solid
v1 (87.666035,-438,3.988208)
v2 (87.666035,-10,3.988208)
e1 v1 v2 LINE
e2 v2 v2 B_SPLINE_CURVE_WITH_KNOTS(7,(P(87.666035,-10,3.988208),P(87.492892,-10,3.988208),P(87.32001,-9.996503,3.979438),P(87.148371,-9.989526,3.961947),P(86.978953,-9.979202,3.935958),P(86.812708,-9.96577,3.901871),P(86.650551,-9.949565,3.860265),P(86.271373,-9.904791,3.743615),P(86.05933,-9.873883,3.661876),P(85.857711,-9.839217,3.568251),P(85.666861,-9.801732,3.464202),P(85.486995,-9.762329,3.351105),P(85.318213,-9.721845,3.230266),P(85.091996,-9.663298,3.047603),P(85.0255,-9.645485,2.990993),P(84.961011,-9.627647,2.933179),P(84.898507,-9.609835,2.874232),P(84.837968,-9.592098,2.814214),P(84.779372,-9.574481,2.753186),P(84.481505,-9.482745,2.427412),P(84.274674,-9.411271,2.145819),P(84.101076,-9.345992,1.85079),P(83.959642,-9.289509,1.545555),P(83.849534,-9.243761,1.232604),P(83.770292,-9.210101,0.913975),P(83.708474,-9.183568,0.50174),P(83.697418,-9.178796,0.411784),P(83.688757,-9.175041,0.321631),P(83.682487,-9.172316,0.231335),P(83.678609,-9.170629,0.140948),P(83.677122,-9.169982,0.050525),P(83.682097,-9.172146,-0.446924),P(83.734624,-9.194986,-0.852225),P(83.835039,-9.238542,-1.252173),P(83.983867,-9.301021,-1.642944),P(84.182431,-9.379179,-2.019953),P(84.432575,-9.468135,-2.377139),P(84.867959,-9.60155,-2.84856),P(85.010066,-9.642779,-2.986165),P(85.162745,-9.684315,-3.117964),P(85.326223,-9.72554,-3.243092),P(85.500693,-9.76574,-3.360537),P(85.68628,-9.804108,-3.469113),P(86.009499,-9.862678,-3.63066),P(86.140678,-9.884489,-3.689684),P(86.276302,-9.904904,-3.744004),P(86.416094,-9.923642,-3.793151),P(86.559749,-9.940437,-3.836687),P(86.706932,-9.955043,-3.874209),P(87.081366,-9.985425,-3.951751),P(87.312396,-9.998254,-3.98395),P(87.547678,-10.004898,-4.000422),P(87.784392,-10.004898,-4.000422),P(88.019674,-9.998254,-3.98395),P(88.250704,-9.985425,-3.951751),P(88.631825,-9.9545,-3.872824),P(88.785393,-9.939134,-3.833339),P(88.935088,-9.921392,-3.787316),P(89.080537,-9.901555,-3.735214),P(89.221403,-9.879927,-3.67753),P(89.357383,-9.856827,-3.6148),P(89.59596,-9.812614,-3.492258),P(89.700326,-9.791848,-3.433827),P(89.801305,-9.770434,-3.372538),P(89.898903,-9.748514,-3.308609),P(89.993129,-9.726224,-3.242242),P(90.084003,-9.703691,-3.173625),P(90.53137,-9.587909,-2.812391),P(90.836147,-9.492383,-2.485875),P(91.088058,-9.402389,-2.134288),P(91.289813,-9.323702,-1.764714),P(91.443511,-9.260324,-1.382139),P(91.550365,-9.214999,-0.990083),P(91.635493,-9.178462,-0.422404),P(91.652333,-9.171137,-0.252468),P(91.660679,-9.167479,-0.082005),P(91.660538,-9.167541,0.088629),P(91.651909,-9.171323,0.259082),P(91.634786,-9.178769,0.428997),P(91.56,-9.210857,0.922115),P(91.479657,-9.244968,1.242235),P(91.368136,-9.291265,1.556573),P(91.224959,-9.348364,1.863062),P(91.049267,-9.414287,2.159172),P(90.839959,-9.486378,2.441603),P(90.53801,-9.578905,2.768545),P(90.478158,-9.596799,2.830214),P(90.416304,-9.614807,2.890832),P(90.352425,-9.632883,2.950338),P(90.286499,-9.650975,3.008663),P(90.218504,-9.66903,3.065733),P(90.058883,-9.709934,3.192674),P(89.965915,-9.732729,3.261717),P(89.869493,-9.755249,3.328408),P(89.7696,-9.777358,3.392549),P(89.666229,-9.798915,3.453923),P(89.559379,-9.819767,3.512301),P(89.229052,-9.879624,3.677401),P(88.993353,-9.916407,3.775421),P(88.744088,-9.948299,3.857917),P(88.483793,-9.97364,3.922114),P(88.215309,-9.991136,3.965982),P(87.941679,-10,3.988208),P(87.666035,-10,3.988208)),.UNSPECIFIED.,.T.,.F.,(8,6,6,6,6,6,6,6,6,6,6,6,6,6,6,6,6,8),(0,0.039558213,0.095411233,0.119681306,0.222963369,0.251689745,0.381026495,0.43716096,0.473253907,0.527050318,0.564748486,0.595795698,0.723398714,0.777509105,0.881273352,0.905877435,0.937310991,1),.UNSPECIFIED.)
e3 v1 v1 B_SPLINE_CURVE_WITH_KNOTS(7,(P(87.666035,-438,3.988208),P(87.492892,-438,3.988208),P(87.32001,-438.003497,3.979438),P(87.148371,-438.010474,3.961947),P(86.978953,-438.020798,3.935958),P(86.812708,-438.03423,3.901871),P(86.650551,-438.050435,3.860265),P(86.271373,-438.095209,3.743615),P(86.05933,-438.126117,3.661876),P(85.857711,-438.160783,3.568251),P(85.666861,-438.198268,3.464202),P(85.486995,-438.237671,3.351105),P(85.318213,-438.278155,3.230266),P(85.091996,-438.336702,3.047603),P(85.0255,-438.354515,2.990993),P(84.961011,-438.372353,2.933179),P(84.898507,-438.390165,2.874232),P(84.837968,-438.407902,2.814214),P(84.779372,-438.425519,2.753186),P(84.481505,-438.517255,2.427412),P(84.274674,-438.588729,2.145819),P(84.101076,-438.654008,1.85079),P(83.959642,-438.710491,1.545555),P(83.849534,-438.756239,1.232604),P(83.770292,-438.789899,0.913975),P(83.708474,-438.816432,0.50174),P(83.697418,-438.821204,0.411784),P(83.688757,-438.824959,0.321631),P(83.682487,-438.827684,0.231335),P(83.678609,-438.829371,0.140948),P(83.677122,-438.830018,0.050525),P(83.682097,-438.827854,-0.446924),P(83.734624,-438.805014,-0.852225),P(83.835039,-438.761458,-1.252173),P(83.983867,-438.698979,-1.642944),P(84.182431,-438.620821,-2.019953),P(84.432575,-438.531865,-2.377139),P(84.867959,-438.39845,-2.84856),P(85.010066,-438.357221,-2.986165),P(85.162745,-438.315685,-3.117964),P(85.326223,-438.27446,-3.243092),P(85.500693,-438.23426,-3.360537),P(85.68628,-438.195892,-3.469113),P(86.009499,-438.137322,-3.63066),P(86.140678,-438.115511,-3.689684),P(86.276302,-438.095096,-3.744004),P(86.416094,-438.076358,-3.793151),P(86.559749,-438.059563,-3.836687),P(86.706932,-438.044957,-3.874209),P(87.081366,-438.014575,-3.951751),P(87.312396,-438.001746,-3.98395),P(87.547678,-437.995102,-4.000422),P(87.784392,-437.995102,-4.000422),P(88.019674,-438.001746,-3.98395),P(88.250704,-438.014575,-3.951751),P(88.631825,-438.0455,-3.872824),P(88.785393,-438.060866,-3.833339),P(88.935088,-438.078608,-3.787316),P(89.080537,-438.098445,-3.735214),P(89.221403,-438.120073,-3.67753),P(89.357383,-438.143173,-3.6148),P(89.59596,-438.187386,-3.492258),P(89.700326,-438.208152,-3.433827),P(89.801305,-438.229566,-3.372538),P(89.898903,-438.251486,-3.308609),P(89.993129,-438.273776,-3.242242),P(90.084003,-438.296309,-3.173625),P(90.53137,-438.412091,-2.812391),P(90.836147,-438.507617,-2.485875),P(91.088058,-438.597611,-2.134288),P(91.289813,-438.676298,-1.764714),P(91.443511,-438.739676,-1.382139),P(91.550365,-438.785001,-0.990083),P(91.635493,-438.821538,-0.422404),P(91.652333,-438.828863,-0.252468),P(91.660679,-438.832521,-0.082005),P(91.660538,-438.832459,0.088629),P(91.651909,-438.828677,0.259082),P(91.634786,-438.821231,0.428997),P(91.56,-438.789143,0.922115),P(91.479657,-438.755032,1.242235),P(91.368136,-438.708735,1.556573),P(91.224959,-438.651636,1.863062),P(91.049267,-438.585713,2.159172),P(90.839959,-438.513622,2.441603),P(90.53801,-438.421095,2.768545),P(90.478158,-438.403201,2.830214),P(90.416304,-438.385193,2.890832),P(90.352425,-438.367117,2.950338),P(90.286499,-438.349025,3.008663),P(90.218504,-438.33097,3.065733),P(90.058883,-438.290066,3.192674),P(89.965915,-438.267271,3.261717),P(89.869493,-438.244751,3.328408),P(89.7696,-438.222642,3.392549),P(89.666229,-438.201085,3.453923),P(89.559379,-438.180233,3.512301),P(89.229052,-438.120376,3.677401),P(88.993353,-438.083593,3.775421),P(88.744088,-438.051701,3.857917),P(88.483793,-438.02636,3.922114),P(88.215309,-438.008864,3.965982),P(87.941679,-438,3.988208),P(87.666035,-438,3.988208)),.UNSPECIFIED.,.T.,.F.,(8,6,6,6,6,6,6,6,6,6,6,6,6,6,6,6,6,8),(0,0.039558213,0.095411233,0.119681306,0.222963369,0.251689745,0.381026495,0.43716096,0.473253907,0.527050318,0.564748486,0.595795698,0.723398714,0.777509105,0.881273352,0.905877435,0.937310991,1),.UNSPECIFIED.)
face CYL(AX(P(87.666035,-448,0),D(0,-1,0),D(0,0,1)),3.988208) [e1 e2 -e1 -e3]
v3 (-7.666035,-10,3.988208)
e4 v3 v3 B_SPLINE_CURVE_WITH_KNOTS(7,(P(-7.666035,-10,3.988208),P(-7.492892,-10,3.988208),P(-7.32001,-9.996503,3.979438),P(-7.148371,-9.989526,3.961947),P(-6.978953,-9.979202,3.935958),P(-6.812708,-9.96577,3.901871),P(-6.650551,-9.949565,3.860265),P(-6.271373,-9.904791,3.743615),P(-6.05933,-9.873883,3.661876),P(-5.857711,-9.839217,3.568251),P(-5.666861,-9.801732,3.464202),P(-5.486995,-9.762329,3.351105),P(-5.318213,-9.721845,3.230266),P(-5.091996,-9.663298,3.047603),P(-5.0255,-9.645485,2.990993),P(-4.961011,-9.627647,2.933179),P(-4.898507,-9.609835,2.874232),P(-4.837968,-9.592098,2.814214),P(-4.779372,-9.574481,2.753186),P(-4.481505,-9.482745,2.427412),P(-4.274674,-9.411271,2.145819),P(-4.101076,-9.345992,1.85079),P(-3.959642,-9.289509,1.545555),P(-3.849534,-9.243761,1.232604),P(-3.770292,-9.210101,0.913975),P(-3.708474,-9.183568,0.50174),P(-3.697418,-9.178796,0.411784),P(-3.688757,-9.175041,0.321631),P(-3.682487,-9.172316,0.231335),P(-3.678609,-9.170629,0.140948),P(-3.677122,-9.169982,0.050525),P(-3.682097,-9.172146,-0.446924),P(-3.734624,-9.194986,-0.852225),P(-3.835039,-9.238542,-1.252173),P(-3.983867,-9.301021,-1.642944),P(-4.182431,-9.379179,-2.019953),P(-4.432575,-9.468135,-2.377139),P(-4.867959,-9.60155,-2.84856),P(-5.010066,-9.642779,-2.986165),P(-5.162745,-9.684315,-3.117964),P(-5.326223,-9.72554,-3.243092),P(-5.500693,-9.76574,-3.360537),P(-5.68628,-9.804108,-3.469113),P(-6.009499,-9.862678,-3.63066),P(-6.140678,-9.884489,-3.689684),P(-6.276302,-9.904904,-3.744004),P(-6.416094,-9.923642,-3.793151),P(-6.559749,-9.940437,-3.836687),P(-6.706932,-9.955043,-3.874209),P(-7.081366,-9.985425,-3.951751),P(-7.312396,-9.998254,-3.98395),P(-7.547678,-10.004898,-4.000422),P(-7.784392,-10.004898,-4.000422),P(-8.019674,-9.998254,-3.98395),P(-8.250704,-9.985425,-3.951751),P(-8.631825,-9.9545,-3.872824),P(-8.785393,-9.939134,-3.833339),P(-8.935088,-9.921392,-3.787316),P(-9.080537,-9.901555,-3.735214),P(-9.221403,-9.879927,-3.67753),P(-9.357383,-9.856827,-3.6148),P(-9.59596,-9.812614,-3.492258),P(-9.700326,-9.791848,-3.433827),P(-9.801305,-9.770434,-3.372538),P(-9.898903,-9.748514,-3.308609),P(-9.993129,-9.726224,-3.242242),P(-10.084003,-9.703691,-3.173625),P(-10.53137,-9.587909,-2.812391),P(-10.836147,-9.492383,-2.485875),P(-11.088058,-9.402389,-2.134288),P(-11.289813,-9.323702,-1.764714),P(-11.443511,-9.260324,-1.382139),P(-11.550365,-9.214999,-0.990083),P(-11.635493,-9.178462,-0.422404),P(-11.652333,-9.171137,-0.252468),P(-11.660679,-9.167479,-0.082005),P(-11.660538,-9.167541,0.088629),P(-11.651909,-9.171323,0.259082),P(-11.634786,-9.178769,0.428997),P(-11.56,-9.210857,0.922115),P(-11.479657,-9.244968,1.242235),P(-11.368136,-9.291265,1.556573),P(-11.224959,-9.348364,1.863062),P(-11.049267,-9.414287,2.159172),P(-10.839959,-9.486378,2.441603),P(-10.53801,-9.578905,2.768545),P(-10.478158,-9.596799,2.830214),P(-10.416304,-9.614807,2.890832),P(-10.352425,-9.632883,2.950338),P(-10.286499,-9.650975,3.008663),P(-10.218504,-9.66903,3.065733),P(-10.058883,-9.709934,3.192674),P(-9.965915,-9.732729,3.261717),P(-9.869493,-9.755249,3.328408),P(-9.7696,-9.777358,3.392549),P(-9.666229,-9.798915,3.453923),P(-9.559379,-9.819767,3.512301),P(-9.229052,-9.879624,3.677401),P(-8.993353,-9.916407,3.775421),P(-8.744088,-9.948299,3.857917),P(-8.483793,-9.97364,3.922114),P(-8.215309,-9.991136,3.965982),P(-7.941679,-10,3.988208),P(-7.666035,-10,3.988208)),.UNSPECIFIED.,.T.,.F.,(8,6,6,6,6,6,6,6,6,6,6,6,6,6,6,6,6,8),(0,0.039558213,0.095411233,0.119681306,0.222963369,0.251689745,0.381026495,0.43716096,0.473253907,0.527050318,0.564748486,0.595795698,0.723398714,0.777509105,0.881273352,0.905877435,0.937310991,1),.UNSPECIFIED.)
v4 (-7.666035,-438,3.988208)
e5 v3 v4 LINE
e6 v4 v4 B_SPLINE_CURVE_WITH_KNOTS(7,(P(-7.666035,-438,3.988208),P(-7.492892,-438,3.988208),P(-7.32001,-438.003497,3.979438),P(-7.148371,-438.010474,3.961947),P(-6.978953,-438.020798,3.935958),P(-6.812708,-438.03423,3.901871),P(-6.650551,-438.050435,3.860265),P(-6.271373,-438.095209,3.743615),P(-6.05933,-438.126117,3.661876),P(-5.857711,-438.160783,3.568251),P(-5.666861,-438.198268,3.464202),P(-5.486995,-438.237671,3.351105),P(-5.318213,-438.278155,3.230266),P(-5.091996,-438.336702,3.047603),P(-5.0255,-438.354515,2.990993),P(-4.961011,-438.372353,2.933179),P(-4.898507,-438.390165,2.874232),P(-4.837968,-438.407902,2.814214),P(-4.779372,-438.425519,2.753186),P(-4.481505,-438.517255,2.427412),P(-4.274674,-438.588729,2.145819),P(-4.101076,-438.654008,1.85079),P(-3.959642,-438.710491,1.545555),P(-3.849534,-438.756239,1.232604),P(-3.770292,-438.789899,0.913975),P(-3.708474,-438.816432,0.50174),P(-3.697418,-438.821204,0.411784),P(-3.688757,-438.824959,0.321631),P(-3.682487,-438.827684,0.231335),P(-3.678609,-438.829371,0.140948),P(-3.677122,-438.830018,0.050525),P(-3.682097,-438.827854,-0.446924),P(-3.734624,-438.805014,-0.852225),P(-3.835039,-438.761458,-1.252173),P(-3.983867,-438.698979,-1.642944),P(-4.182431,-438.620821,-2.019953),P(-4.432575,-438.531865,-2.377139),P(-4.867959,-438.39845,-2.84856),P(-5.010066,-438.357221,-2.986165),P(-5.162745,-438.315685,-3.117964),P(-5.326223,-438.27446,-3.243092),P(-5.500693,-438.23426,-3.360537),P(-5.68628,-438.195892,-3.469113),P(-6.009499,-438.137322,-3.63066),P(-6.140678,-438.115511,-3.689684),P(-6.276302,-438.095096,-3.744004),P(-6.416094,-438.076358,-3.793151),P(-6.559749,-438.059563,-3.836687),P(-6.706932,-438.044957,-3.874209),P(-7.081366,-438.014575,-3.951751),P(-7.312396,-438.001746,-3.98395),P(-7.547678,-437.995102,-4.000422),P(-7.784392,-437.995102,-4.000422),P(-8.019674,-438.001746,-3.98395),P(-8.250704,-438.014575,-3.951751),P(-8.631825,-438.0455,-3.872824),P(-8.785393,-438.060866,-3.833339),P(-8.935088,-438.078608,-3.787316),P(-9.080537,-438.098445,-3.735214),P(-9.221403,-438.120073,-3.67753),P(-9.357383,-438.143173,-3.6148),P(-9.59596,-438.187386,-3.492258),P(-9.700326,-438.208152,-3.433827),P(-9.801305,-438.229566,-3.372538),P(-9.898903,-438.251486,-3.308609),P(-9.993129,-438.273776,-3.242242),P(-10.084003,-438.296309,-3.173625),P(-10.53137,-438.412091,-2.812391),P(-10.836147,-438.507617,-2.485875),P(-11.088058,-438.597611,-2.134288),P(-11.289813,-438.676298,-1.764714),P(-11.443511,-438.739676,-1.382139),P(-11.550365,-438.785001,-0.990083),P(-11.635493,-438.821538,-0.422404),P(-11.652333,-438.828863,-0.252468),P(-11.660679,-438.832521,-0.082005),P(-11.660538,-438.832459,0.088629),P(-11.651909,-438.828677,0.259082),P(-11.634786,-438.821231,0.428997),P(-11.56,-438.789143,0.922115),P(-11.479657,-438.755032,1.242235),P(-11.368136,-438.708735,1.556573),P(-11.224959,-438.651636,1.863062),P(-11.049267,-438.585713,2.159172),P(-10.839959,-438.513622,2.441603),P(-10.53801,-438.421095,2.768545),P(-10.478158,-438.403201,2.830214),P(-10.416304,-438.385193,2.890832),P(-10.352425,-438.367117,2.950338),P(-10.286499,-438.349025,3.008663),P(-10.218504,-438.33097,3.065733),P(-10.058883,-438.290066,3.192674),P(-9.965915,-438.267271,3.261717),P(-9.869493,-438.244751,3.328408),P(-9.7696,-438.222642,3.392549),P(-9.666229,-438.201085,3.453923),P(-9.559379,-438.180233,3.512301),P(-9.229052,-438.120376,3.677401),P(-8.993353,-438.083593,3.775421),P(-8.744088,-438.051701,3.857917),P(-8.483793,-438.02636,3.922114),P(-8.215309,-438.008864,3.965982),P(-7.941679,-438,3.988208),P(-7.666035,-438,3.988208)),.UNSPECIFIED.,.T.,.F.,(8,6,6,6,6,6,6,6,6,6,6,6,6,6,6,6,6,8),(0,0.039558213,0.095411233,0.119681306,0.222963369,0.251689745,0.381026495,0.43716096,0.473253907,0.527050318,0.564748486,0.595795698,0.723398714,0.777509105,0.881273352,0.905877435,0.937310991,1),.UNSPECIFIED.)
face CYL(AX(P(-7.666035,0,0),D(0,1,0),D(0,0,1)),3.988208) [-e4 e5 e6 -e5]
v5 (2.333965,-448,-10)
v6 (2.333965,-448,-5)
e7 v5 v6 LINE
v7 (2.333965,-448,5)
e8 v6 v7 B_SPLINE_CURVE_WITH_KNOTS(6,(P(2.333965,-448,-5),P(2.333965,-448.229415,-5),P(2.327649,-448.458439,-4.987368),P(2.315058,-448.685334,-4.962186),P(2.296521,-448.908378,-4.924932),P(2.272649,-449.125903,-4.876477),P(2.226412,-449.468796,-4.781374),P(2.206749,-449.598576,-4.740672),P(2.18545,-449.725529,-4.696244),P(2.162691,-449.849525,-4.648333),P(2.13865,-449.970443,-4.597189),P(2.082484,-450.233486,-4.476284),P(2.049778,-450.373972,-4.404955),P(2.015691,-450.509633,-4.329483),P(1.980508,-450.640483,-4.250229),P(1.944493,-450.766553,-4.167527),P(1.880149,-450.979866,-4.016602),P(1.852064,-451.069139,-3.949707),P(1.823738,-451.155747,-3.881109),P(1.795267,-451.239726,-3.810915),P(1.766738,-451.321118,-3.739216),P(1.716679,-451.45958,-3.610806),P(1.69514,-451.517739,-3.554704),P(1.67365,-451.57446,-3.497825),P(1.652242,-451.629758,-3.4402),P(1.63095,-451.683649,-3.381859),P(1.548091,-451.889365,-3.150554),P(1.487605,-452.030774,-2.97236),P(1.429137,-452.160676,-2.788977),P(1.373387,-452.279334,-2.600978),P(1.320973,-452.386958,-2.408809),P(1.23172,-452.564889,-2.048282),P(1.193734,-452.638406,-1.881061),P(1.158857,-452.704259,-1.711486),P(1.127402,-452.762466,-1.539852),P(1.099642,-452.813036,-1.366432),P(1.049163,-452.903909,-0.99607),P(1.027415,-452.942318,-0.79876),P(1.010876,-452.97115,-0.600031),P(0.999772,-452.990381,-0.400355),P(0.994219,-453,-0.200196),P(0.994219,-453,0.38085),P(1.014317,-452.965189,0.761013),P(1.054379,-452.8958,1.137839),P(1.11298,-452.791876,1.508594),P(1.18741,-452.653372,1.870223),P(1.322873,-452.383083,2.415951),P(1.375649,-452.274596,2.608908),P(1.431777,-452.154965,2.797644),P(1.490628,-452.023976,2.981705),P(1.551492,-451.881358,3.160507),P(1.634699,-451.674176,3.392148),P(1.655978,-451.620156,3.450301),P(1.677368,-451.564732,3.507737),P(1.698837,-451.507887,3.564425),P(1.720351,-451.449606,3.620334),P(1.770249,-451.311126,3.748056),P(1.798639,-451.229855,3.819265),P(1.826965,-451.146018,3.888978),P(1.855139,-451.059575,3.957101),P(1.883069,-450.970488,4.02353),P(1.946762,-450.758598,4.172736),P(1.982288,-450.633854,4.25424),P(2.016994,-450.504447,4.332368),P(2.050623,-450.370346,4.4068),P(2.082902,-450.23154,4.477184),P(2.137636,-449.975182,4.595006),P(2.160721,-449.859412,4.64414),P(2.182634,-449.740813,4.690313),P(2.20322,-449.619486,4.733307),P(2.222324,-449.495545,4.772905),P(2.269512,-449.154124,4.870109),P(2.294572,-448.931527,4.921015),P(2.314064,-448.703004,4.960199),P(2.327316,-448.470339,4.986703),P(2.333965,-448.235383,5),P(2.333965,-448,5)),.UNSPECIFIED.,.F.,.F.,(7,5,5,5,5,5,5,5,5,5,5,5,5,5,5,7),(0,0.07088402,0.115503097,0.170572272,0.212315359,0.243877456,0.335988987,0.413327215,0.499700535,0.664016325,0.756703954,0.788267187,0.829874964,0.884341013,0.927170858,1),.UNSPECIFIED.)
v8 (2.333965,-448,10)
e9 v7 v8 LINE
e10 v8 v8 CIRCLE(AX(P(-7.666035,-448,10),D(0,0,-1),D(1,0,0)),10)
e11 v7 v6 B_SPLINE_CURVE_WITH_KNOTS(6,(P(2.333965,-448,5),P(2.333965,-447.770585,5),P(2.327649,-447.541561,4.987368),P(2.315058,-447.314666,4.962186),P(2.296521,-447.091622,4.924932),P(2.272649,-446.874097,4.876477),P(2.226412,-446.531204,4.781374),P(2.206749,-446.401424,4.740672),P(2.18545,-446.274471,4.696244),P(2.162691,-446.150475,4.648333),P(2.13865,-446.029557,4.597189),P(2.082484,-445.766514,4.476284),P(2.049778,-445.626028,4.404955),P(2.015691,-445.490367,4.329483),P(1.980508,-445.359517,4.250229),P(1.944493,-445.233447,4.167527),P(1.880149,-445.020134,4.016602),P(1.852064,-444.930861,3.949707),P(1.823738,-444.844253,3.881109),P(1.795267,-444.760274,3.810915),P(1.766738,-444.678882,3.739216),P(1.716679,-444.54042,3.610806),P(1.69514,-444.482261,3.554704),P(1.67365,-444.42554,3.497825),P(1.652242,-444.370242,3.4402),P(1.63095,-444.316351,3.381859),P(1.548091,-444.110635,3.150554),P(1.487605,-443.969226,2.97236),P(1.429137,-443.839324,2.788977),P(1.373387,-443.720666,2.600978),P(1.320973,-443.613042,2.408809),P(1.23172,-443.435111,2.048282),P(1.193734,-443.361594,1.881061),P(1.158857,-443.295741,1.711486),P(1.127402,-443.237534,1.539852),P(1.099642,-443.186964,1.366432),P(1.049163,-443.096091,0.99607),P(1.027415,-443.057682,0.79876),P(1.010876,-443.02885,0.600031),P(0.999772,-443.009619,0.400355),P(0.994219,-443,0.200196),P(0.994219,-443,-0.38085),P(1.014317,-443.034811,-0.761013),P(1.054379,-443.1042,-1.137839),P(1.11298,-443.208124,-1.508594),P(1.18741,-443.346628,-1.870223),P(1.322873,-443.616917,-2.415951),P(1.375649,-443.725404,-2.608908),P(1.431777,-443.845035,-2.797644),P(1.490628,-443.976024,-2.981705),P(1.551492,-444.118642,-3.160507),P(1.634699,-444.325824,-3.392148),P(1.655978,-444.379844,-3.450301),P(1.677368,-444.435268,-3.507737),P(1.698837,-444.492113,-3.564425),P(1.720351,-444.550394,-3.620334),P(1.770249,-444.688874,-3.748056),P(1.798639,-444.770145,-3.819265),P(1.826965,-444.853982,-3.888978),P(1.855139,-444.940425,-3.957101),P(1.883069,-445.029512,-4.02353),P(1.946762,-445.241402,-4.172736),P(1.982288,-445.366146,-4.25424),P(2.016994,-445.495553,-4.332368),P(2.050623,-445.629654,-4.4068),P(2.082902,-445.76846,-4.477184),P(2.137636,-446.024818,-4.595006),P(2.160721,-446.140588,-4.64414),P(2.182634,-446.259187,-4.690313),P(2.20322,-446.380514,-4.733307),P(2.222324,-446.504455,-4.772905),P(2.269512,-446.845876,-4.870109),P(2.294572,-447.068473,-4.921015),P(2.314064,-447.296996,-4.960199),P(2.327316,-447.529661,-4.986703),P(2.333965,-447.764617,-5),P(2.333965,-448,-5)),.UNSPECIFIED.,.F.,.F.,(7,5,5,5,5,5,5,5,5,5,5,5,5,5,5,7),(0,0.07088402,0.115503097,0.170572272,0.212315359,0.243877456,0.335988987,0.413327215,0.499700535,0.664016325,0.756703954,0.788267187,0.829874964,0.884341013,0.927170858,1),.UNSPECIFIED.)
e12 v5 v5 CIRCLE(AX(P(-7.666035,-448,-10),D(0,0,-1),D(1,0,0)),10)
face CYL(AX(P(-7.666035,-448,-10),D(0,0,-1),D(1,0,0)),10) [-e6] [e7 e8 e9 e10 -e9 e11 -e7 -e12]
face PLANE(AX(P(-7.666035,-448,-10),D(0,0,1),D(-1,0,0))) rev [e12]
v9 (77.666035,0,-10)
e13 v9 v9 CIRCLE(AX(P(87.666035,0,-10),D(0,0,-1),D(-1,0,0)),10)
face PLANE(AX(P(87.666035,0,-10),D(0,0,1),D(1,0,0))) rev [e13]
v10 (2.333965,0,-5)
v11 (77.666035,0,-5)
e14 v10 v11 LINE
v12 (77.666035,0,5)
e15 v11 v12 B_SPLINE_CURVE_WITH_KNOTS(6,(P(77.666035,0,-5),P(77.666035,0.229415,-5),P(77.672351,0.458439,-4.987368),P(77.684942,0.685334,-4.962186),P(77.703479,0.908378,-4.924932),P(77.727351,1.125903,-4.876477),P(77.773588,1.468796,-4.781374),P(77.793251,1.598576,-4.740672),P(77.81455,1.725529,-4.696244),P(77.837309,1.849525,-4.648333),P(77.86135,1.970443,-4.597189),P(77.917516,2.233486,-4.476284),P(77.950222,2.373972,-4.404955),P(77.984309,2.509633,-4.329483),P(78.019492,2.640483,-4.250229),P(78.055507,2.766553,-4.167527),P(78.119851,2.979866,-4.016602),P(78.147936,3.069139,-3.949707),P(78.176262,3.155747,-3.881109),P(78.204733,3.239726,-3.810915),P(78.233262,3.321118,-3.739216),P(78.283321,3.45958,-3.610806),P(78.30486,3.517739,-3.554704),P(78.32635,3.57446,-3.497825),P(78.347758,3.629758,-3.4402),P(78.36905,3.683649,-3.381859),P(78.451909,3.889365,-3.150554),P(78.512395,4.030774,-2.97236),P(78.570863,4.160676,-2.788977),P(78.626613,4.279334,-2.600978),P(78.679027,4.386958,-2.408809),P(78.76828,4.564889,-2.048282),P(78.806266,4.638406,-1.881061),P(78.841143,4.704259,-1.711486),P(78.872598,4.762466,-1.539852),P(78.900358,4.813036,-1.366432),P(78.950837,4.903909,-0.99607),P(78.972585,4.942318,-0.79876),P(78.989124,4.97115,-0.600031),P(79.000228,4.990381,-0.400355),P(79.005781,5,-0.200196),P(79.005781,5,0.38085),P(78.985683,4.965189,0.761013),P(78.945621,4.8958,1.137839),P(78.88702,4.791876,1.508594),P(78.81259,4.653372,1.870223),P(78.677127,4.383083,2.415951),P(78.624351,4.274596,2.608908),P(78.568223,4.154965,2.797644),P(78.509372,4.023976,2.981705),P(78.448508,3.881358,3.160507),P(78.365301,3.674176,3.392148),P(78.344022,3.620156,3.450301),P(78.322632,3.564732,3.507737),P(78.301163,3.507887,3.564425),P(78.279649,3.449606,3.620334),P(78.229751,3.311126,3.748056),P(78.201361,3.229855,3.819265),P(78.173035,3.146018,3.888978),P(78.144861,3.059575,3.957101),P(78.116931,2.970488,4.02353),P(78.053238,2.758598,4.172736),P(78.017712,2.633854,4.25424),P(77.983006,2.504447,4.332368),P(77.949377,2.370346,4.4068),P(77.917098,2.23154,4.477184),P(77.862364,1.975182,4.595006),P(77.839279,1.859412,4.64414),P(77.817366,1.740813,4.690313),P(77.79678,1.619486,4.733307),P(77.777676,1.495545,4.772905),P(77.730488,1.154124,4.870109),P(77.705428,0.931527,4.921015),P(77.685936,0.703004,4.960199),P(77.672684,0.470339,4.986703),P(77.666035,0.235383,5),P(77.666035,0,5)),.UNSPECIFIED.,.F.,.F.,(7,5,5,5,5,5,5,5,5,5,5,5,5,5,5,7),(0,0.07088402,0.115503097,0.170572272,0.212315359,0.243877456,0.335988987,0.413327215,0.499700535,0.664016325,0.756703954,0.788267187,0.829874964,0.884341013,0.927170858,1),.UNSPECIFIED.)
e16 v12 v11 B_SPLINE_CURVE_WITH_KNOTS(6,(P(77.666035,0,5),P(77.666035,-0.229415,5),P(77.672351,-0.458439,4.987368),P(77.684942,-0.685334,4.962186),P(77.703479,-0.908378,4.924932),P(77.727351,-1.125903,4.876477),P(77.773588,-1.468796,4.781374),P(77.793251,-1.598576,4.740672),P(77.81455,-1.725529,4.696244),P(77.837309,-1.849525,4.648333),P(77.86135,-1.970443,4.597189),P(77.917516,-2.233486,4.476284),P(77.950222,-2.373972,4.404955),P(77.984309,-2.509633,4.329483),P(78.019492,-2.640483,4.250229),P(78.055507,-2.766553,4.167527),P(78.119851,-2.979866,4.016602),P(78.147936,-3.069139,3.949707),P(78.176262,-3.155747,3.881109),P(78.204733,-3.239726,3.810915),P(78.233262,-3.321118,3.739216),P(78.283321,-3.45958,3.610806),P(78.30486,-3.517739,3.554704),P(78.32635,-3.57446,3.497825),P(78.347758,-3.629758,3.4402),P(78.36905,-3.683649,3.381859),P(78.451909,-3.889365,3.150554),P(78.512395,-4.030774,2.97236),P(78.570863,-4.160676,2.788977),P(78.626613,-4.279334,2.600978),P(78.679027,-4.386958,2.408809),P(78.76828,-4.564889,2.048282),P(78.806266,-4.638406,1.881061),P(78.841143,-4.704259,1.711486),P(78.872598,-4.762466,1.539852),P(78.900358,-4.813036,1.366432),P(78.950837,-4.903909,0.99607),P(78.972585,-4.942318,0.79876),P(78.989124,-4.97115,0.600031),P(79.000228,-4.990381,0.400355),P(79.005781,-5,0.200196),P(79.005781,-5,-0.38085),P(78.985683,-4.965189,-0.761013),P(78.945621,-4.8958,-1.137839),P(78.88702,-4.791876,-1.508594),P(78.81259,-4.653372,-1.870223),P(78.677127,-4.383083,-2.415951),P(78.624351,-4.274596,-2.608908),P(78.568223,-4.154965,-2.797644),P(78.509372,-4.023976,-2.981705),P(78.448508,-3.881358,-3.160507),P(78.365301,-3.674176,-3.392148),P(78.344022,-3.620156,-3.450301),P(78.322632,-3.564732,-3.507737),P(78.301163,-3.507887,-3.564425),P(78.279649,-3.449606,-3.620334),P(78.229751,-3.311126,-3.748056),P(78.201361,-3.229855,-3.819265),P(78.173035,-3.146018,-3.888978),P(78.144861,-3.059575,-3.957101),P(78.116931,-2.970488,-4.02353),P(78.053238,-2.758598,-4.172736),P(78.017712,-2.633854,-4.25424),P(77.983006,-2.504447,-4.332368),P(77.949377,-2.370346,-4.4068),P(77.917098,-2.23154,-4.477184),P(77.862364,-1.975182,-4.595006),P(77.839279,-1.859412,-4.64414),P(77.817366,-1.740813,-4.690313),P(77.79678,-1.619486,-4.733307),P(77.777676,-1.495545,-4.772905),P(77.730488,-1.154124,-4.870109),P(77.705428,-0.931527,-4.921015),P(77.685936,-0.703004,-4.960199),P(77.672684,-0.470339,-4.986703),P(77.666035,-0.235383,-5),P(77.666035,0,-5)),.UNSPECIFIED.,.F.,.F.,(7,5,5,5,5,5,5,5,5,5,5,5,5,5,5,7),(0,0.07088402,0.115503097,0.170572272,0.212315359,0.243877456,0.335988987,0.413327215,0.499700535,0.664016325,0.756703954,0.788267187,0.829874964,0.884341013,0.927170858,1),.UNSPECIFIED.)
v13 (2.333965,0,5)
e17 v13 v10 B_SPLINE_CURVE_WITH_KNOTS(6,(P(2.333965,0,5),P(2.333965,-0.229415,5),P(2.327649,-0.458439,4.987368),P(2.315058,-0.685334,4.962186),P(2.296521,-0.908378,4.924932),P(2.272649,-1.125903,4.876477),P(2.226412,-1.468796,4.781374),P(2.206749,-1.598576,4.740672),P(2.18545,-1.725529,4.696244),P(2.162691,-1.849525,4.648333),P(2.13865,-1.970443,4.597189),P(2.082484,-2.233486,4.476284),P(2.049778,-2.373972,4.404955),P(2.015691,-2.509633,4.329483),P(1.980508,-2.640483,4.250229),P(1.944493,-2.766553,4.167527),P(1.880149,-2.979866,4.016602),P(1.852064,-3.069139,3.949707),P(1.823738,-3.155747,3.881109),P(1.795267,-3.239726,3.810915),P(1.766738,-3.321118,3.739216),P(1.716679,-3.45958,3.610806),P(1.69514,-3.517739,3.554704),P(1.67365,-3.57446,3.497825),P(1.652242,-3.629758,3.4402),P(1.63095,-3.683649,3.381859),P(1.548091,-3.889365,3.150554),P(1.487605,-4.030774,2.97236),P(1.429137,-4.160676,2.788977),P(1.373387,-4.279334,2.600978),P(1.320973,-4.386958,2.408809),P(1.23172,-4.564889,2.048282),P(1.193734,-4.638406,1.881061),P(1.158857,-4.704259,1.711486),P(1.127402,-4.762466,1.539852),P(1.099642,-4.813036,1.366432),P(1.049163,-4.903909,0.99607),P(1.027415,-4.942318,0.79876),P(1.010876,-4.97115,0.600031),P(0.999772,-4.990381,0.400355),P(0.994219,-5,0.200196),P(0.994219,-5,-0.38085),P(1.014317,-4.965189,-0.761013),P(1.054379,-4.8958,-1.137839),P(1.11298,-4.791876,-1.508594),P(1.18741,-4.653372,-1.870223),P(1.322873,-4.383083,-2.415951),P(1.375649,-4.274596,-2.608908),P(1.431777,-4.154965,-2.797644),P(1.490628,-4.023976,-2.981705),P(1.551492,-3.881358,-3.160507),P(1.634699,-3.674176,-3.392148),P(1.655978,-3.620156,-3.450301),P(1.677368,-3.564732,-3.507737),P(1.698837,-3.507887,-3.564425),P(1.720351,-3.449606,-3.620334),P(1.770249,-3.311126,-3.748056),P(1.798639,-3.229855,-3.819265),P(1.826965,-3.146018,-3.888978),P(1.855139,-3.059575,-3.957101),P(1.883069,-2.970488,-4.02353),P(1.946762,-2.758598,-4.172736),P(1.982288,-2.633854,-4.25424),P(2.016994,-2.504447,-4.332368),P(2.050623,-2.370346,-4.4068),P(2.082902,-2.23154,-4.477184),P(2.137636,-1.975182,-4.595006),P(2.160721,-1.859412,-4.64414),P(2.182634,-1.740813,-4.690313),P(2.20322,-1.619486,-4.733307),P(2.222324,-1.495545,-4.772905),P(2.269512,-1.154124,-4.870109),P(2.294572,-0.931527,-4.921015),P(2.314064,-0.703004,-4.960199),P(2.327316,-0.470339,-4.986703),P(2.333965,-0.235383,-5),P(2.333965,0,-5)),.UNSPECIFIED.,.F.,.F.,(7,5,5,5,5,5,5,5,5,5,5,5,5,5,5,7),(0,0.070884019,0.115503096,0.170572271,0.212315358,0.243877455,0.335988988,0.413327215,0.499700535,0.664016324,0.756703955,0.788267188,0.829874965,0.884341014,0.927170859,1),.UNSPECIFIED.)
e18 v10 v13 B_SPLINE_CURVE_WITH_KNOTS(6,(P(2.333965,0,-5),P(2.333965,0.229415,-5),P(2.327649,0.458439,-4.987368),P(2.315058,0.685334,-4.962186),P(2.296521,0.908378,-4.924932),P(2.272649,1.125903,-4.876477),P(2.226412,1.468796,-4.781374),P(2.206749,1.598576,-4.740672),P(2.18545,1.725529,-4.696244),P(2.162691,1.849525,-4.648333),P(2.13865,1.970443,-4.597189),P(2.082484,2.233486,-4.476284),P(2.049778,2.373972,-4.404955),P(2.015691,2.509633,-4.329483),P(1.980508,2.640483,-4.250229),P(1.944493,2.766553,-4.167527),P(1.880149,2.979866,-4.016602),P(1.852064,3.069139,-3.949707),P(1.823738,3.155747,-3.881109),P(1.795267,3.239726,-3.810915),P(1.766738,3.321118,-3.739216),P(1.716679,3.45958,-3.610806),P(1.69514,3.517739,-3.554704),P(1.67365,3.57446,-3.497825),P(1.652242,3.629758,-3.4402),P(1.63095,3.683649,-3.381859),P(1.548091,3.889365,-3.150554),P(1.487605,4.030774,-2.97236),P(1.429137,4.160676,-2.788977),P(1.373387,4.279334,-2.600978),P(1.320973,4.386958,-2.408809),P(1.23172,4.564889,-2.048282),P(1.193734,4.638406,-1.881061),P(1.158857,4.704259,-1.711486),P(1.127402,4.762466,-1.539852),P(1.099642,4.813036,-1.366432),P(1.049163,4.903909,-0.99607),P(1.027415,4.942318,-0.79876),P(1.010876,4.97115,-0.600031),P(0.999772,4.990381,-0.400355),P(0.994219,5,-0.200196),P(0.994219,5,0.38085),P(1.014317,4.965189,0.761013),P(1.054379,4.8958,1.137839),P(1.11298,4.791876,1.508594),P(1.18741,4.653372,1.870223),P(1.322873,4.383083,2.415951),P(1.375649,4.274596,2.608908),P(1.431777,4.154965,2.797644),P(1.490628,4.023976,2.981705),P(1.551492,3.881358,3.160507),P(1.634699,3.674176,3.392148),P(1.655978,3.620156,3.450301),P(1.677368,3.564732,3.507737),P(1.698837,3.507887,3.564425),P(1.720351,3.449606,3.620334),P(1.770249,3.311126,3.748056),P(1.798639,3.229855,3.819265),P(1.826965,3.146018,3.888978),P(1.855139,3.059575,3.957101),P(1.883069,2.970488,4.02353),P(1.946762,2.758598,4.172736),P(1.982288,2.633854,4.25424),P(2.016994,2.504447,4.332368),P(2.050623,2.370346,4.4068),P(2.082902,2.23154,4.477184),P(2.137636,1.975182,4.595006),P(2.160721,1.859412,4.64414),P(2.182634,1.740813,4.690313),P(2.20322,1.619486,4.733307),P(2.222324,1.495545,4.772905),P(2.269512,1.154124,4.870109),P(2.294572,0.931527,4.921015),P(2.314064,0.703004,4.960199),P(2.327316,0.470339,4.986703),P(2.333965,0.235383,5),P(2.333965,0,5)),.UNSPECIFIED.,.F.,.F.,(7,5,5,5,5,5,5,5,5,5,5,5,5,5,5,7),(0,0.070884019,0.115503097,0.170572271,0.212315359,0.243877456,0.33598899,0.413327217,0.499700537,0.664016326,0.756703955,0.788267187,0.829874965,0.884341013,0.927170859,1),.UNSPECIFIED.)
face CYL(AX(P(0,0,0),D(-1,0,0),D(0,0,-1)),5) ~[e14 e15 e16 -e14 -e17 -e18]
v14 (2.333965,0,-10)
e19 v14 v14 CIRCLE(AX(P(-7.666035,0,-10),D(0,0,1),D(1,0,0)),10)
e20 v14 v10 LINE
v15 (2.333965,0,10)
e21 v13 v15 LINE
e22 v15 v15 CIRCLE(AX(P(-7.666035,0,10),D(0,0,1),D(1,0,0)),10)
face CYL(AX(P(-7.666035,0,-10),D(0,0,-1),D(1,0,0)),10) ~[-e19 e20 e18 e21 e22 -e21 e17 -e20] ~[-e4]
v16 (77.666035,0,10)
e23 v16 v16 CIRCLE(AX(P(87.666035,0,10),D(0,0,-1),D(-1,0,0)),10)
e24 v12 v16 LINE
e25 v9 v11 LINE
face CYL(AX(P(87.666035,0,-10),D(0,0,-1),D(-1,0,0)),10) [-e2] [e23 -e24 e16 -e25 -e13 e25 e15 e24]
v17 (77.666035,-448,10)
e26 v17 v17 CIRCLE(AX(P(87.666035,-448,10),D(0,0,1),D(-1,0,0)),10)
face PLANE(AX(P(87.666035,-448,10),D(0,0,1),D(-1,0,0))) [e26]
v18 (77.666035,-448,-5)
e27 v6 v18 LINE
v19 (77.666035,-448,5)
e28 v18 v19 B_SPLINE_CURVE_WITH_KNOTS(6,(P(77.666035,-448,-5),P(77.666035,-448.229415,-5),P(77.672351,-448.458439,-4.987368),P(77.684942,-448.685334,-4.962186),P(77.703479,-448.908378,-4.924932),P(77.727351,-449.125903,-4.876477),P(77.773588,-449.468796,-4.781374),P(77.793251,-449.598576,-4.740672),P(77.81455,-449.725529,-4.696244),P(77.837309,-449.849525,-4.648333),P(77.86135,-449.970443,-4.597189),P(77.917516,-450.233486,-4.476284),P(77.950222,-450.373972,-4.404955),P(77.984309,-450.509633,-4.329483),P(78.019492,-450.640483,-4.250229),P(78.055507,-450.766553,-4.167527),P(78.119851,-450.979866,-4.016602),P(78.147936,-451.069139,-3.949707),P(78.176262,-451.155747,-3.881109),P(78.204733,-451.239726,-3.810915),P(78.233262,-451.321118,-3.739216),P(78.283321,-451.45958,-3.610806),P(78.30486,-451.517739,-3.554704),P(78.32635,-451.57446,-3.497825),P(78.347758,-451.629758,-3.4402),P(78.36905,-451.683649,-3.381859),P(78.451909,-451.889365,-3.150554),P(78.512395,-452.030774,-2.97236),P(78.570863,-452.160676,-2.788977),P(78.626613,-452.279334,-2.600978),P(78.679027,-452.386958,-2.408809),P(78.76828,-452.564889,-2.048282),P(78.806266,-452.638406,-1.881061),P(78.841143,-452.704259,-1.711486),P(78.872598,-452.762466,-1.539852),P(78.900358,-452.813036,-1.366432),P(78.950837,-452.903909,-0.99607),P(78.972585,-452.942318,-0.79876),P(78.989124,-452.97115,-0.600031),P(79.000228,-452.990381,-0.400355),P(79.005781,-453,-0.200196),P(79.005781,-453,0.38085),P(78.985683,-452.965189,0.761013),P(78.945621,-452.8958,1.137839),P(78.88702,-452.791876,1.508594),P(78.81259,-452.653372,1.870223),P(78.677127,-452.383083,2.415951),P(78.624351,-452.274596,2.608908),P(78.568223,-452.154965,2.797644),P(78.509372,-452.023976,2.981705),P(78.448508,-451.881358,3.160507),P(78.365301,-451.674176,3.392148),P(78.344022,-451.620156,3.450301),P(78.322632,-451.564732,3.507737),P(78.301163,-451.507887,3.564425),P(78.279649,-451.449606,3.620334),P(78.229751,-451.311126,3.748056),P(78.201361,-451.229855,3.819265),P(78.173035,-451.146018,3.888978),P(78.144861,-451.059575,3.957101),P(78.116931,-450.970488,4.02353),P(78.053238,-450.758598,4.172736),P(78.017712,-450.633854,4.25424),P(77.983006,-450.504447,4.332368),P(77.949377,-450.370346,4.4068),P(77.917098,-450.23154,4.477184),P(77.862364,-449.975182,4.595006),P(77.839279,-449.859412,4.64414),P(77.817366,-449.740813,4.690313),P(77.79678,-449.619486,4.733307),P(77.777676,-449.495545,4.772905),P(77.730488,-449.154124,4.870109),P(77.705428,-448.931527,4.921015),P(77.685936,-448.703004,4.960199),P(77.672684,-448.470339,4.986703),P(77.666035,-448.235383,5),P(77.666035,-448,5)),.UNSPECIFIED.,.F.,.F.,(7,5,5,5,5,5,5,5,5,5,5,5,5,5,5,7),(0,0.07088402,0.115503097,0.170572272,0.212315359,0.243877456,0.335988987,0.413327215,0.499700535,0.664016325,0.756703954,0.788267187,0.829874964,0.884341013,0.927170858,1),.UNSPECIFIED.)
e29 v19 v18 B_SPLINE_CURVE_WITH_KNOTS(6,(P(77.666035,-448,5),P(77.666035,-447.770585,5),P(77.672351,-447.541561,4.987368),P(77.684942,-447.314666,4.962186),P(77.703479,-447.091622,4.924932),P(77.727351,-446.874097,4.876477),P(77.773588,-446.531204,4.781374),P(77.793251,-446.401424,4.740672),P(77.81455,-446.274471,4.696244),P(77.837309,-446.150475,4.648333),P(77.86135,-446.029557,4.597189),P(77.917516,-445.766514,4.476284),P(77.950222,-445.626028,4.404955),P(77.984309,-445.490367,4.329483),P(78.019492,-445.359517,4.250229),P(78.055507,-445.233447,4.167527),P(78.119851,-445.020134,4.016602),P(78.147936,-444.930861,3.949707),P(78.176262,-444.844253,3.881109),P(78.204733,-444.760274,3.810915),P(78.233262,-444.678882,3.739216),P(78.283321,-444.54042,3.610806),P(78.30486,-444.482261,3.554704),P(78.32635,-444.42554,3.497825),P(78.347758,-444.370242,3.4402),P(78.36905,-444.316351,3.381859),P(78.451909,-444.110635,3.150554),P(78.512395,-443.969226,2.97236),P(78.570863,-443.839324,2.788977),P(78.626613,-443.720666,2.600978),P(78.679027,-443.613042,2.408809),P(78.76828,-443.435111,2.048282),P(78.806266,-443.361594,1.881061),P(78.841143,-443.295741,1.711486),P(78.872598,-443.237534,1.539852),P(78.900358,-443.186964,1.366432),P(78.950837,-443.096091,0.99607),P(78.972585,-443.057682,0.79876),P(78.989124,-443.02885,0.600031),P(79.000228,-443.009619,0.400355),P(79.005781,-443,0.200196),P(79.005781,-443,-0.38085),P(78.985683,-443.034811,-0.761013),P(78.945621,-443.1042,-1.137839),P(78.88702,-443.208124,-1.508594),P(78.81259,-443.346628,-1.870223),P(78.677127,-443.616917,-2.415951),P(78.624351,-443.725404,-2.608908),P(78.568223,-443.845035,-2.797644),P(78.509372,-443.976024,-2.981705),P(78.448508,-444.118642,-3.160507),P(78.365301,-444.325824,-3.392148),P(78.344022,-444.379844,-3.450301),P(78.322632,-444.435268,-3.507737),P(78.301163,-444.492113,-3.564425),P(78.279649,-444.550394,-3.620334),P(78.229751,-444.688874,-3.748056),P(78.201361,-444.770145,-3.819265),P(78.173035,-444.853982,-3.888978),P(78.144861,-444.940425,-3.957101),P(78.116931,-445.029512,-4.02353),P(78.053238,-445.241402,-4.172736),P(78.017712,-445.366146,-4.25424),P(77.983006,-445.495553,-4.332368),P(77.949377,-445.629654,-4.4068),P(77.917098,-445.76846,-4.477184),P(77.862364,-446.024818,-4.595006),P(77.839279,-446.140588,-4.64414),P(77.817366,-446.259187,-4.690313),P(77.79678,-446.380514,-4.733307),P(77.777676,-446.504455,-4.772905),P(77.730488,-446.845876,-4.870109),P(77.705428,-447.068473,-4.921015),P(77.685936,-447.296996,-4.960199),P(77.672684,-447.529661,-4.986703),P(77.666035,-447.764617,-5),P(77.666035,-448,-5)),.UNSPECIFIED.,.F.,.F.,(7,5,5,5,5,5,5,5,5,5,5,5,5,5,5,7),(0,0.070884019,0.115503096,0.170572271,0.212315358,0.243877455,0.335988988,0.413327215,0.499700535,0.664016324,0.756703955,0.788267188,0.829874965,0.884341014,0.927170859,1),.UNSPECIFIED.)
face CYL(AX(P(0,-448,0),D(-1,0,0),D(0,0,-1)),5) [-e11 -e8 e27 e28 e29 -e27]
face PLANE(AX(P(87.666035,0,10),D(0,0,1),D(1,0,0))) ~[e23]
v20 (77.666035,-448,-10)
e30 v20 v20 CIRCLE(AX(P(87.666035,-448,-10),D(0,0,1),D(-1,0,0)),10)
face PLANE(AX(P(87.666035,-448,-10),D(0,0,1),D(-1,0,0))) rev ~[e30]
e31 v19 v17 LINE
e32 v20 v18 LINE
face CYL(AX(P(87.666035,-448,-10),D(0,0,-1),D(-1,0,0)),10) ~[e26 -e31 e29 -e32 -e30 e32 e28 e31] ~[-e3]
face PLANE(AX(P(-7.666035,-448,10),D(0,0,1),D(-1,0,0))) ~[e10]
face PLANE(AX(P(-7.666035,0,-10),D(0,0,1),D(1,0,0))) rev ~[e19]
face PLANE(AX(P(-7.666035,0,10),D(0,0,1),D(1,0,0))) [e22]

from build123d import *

# Parameters (mm, degrees)
SKETCH1_R                = 5
BOSS_EXTRUDE1_DEPTH      = 80
BOSS_EXTRUDE2_DEPTH      = 10
BOSS_EXTRUDE2_DEPTH_BACK = 10
SKETCH2_R                = 10
SKETCH3_R                = 3.98820793
BOSS_EXTRUDE3_DEPTH      = 448


with BuildPart() as part:
    # Sketch1 → Boss-Extrude1 (new body)
    with BuildSketch(Plane(origin=(0, 0, 0), x_dir=(0, 0, -1), z_dir=(1, 0, 0))):
        Circle(SKETCH1_R)
    extrude(amount=BOSS_EXTRUDE1_DEPTH)


with BuildPart() as body_2:
    # Sketch2 → Boss-Extrude2 (new, two sides: drawn at the far end of the back side and taken through both)
    with BuildSketch(Plane.XY.offset(-BOSS_EXTRUDE2_DEPTH_BACK)):
        with Locations((-7.666034923, 0)):
            Circle(SKETCH2_R)
    extrude(amount=BOSS_EXTRUDE2_DEPTH + BOSS_EXTRUDE2_DEPTH_BACK)

    # Sketch3 → Boss-Extrude3 (add)
    with BuildSketch(Plane(origin=(0, 0, 0), x_dir=(1, 0, 0), z_dir=(0, 1, 0))):
        with Locations((-7.666034923, 0)):
            Circle(SKETCH3_R)
    extrude(amount=-BOSS_EXTRUDE3_DEPTH)


with BuildPart() as body_3:
    # Mirror1: mirrored copy
    add(part.part.mirror(Plane.ZX.offset(-224)))


with BuildPart() as body_4:
    # Mirror1 2: mirrored copy
    add(body_2.part.mirror(Plane.ZX.offset(-224)))


with BuildPart() as body_5:
    # Mirror2: mirrored copy
    add(part.part.mirror(Plane.ZY.offset(-40)))


with BuildPart() as body_6:
    # Mirror2 2: mirrored copy
    add(body_3.part.mirror(Plane.ZY.offset(-40)))


with BuildPart() as body_7:
    # Mirror2 3: mirrored copy
    add(body_4.part.mirror(Plane.ZY.offset(-40)))


with BuildPart() as body_8:
    # Mirror2 4: mirrored copy
    add(body_2.part.mirror(Plane.ZY.offset(-40)))


with BuildPart() as body_7_1:
    add(body_7.part)

    # Combine1: union part, body 8, body 5, body 2, body 3, body 6, body 4
    add(part.part)
    add(body_8.part)
    add(body_5.part)
    add(body_2.part)
    add(body_3.part)
    add(body_6.part)
    add(body_4.part)


solid = body_7_1.part
